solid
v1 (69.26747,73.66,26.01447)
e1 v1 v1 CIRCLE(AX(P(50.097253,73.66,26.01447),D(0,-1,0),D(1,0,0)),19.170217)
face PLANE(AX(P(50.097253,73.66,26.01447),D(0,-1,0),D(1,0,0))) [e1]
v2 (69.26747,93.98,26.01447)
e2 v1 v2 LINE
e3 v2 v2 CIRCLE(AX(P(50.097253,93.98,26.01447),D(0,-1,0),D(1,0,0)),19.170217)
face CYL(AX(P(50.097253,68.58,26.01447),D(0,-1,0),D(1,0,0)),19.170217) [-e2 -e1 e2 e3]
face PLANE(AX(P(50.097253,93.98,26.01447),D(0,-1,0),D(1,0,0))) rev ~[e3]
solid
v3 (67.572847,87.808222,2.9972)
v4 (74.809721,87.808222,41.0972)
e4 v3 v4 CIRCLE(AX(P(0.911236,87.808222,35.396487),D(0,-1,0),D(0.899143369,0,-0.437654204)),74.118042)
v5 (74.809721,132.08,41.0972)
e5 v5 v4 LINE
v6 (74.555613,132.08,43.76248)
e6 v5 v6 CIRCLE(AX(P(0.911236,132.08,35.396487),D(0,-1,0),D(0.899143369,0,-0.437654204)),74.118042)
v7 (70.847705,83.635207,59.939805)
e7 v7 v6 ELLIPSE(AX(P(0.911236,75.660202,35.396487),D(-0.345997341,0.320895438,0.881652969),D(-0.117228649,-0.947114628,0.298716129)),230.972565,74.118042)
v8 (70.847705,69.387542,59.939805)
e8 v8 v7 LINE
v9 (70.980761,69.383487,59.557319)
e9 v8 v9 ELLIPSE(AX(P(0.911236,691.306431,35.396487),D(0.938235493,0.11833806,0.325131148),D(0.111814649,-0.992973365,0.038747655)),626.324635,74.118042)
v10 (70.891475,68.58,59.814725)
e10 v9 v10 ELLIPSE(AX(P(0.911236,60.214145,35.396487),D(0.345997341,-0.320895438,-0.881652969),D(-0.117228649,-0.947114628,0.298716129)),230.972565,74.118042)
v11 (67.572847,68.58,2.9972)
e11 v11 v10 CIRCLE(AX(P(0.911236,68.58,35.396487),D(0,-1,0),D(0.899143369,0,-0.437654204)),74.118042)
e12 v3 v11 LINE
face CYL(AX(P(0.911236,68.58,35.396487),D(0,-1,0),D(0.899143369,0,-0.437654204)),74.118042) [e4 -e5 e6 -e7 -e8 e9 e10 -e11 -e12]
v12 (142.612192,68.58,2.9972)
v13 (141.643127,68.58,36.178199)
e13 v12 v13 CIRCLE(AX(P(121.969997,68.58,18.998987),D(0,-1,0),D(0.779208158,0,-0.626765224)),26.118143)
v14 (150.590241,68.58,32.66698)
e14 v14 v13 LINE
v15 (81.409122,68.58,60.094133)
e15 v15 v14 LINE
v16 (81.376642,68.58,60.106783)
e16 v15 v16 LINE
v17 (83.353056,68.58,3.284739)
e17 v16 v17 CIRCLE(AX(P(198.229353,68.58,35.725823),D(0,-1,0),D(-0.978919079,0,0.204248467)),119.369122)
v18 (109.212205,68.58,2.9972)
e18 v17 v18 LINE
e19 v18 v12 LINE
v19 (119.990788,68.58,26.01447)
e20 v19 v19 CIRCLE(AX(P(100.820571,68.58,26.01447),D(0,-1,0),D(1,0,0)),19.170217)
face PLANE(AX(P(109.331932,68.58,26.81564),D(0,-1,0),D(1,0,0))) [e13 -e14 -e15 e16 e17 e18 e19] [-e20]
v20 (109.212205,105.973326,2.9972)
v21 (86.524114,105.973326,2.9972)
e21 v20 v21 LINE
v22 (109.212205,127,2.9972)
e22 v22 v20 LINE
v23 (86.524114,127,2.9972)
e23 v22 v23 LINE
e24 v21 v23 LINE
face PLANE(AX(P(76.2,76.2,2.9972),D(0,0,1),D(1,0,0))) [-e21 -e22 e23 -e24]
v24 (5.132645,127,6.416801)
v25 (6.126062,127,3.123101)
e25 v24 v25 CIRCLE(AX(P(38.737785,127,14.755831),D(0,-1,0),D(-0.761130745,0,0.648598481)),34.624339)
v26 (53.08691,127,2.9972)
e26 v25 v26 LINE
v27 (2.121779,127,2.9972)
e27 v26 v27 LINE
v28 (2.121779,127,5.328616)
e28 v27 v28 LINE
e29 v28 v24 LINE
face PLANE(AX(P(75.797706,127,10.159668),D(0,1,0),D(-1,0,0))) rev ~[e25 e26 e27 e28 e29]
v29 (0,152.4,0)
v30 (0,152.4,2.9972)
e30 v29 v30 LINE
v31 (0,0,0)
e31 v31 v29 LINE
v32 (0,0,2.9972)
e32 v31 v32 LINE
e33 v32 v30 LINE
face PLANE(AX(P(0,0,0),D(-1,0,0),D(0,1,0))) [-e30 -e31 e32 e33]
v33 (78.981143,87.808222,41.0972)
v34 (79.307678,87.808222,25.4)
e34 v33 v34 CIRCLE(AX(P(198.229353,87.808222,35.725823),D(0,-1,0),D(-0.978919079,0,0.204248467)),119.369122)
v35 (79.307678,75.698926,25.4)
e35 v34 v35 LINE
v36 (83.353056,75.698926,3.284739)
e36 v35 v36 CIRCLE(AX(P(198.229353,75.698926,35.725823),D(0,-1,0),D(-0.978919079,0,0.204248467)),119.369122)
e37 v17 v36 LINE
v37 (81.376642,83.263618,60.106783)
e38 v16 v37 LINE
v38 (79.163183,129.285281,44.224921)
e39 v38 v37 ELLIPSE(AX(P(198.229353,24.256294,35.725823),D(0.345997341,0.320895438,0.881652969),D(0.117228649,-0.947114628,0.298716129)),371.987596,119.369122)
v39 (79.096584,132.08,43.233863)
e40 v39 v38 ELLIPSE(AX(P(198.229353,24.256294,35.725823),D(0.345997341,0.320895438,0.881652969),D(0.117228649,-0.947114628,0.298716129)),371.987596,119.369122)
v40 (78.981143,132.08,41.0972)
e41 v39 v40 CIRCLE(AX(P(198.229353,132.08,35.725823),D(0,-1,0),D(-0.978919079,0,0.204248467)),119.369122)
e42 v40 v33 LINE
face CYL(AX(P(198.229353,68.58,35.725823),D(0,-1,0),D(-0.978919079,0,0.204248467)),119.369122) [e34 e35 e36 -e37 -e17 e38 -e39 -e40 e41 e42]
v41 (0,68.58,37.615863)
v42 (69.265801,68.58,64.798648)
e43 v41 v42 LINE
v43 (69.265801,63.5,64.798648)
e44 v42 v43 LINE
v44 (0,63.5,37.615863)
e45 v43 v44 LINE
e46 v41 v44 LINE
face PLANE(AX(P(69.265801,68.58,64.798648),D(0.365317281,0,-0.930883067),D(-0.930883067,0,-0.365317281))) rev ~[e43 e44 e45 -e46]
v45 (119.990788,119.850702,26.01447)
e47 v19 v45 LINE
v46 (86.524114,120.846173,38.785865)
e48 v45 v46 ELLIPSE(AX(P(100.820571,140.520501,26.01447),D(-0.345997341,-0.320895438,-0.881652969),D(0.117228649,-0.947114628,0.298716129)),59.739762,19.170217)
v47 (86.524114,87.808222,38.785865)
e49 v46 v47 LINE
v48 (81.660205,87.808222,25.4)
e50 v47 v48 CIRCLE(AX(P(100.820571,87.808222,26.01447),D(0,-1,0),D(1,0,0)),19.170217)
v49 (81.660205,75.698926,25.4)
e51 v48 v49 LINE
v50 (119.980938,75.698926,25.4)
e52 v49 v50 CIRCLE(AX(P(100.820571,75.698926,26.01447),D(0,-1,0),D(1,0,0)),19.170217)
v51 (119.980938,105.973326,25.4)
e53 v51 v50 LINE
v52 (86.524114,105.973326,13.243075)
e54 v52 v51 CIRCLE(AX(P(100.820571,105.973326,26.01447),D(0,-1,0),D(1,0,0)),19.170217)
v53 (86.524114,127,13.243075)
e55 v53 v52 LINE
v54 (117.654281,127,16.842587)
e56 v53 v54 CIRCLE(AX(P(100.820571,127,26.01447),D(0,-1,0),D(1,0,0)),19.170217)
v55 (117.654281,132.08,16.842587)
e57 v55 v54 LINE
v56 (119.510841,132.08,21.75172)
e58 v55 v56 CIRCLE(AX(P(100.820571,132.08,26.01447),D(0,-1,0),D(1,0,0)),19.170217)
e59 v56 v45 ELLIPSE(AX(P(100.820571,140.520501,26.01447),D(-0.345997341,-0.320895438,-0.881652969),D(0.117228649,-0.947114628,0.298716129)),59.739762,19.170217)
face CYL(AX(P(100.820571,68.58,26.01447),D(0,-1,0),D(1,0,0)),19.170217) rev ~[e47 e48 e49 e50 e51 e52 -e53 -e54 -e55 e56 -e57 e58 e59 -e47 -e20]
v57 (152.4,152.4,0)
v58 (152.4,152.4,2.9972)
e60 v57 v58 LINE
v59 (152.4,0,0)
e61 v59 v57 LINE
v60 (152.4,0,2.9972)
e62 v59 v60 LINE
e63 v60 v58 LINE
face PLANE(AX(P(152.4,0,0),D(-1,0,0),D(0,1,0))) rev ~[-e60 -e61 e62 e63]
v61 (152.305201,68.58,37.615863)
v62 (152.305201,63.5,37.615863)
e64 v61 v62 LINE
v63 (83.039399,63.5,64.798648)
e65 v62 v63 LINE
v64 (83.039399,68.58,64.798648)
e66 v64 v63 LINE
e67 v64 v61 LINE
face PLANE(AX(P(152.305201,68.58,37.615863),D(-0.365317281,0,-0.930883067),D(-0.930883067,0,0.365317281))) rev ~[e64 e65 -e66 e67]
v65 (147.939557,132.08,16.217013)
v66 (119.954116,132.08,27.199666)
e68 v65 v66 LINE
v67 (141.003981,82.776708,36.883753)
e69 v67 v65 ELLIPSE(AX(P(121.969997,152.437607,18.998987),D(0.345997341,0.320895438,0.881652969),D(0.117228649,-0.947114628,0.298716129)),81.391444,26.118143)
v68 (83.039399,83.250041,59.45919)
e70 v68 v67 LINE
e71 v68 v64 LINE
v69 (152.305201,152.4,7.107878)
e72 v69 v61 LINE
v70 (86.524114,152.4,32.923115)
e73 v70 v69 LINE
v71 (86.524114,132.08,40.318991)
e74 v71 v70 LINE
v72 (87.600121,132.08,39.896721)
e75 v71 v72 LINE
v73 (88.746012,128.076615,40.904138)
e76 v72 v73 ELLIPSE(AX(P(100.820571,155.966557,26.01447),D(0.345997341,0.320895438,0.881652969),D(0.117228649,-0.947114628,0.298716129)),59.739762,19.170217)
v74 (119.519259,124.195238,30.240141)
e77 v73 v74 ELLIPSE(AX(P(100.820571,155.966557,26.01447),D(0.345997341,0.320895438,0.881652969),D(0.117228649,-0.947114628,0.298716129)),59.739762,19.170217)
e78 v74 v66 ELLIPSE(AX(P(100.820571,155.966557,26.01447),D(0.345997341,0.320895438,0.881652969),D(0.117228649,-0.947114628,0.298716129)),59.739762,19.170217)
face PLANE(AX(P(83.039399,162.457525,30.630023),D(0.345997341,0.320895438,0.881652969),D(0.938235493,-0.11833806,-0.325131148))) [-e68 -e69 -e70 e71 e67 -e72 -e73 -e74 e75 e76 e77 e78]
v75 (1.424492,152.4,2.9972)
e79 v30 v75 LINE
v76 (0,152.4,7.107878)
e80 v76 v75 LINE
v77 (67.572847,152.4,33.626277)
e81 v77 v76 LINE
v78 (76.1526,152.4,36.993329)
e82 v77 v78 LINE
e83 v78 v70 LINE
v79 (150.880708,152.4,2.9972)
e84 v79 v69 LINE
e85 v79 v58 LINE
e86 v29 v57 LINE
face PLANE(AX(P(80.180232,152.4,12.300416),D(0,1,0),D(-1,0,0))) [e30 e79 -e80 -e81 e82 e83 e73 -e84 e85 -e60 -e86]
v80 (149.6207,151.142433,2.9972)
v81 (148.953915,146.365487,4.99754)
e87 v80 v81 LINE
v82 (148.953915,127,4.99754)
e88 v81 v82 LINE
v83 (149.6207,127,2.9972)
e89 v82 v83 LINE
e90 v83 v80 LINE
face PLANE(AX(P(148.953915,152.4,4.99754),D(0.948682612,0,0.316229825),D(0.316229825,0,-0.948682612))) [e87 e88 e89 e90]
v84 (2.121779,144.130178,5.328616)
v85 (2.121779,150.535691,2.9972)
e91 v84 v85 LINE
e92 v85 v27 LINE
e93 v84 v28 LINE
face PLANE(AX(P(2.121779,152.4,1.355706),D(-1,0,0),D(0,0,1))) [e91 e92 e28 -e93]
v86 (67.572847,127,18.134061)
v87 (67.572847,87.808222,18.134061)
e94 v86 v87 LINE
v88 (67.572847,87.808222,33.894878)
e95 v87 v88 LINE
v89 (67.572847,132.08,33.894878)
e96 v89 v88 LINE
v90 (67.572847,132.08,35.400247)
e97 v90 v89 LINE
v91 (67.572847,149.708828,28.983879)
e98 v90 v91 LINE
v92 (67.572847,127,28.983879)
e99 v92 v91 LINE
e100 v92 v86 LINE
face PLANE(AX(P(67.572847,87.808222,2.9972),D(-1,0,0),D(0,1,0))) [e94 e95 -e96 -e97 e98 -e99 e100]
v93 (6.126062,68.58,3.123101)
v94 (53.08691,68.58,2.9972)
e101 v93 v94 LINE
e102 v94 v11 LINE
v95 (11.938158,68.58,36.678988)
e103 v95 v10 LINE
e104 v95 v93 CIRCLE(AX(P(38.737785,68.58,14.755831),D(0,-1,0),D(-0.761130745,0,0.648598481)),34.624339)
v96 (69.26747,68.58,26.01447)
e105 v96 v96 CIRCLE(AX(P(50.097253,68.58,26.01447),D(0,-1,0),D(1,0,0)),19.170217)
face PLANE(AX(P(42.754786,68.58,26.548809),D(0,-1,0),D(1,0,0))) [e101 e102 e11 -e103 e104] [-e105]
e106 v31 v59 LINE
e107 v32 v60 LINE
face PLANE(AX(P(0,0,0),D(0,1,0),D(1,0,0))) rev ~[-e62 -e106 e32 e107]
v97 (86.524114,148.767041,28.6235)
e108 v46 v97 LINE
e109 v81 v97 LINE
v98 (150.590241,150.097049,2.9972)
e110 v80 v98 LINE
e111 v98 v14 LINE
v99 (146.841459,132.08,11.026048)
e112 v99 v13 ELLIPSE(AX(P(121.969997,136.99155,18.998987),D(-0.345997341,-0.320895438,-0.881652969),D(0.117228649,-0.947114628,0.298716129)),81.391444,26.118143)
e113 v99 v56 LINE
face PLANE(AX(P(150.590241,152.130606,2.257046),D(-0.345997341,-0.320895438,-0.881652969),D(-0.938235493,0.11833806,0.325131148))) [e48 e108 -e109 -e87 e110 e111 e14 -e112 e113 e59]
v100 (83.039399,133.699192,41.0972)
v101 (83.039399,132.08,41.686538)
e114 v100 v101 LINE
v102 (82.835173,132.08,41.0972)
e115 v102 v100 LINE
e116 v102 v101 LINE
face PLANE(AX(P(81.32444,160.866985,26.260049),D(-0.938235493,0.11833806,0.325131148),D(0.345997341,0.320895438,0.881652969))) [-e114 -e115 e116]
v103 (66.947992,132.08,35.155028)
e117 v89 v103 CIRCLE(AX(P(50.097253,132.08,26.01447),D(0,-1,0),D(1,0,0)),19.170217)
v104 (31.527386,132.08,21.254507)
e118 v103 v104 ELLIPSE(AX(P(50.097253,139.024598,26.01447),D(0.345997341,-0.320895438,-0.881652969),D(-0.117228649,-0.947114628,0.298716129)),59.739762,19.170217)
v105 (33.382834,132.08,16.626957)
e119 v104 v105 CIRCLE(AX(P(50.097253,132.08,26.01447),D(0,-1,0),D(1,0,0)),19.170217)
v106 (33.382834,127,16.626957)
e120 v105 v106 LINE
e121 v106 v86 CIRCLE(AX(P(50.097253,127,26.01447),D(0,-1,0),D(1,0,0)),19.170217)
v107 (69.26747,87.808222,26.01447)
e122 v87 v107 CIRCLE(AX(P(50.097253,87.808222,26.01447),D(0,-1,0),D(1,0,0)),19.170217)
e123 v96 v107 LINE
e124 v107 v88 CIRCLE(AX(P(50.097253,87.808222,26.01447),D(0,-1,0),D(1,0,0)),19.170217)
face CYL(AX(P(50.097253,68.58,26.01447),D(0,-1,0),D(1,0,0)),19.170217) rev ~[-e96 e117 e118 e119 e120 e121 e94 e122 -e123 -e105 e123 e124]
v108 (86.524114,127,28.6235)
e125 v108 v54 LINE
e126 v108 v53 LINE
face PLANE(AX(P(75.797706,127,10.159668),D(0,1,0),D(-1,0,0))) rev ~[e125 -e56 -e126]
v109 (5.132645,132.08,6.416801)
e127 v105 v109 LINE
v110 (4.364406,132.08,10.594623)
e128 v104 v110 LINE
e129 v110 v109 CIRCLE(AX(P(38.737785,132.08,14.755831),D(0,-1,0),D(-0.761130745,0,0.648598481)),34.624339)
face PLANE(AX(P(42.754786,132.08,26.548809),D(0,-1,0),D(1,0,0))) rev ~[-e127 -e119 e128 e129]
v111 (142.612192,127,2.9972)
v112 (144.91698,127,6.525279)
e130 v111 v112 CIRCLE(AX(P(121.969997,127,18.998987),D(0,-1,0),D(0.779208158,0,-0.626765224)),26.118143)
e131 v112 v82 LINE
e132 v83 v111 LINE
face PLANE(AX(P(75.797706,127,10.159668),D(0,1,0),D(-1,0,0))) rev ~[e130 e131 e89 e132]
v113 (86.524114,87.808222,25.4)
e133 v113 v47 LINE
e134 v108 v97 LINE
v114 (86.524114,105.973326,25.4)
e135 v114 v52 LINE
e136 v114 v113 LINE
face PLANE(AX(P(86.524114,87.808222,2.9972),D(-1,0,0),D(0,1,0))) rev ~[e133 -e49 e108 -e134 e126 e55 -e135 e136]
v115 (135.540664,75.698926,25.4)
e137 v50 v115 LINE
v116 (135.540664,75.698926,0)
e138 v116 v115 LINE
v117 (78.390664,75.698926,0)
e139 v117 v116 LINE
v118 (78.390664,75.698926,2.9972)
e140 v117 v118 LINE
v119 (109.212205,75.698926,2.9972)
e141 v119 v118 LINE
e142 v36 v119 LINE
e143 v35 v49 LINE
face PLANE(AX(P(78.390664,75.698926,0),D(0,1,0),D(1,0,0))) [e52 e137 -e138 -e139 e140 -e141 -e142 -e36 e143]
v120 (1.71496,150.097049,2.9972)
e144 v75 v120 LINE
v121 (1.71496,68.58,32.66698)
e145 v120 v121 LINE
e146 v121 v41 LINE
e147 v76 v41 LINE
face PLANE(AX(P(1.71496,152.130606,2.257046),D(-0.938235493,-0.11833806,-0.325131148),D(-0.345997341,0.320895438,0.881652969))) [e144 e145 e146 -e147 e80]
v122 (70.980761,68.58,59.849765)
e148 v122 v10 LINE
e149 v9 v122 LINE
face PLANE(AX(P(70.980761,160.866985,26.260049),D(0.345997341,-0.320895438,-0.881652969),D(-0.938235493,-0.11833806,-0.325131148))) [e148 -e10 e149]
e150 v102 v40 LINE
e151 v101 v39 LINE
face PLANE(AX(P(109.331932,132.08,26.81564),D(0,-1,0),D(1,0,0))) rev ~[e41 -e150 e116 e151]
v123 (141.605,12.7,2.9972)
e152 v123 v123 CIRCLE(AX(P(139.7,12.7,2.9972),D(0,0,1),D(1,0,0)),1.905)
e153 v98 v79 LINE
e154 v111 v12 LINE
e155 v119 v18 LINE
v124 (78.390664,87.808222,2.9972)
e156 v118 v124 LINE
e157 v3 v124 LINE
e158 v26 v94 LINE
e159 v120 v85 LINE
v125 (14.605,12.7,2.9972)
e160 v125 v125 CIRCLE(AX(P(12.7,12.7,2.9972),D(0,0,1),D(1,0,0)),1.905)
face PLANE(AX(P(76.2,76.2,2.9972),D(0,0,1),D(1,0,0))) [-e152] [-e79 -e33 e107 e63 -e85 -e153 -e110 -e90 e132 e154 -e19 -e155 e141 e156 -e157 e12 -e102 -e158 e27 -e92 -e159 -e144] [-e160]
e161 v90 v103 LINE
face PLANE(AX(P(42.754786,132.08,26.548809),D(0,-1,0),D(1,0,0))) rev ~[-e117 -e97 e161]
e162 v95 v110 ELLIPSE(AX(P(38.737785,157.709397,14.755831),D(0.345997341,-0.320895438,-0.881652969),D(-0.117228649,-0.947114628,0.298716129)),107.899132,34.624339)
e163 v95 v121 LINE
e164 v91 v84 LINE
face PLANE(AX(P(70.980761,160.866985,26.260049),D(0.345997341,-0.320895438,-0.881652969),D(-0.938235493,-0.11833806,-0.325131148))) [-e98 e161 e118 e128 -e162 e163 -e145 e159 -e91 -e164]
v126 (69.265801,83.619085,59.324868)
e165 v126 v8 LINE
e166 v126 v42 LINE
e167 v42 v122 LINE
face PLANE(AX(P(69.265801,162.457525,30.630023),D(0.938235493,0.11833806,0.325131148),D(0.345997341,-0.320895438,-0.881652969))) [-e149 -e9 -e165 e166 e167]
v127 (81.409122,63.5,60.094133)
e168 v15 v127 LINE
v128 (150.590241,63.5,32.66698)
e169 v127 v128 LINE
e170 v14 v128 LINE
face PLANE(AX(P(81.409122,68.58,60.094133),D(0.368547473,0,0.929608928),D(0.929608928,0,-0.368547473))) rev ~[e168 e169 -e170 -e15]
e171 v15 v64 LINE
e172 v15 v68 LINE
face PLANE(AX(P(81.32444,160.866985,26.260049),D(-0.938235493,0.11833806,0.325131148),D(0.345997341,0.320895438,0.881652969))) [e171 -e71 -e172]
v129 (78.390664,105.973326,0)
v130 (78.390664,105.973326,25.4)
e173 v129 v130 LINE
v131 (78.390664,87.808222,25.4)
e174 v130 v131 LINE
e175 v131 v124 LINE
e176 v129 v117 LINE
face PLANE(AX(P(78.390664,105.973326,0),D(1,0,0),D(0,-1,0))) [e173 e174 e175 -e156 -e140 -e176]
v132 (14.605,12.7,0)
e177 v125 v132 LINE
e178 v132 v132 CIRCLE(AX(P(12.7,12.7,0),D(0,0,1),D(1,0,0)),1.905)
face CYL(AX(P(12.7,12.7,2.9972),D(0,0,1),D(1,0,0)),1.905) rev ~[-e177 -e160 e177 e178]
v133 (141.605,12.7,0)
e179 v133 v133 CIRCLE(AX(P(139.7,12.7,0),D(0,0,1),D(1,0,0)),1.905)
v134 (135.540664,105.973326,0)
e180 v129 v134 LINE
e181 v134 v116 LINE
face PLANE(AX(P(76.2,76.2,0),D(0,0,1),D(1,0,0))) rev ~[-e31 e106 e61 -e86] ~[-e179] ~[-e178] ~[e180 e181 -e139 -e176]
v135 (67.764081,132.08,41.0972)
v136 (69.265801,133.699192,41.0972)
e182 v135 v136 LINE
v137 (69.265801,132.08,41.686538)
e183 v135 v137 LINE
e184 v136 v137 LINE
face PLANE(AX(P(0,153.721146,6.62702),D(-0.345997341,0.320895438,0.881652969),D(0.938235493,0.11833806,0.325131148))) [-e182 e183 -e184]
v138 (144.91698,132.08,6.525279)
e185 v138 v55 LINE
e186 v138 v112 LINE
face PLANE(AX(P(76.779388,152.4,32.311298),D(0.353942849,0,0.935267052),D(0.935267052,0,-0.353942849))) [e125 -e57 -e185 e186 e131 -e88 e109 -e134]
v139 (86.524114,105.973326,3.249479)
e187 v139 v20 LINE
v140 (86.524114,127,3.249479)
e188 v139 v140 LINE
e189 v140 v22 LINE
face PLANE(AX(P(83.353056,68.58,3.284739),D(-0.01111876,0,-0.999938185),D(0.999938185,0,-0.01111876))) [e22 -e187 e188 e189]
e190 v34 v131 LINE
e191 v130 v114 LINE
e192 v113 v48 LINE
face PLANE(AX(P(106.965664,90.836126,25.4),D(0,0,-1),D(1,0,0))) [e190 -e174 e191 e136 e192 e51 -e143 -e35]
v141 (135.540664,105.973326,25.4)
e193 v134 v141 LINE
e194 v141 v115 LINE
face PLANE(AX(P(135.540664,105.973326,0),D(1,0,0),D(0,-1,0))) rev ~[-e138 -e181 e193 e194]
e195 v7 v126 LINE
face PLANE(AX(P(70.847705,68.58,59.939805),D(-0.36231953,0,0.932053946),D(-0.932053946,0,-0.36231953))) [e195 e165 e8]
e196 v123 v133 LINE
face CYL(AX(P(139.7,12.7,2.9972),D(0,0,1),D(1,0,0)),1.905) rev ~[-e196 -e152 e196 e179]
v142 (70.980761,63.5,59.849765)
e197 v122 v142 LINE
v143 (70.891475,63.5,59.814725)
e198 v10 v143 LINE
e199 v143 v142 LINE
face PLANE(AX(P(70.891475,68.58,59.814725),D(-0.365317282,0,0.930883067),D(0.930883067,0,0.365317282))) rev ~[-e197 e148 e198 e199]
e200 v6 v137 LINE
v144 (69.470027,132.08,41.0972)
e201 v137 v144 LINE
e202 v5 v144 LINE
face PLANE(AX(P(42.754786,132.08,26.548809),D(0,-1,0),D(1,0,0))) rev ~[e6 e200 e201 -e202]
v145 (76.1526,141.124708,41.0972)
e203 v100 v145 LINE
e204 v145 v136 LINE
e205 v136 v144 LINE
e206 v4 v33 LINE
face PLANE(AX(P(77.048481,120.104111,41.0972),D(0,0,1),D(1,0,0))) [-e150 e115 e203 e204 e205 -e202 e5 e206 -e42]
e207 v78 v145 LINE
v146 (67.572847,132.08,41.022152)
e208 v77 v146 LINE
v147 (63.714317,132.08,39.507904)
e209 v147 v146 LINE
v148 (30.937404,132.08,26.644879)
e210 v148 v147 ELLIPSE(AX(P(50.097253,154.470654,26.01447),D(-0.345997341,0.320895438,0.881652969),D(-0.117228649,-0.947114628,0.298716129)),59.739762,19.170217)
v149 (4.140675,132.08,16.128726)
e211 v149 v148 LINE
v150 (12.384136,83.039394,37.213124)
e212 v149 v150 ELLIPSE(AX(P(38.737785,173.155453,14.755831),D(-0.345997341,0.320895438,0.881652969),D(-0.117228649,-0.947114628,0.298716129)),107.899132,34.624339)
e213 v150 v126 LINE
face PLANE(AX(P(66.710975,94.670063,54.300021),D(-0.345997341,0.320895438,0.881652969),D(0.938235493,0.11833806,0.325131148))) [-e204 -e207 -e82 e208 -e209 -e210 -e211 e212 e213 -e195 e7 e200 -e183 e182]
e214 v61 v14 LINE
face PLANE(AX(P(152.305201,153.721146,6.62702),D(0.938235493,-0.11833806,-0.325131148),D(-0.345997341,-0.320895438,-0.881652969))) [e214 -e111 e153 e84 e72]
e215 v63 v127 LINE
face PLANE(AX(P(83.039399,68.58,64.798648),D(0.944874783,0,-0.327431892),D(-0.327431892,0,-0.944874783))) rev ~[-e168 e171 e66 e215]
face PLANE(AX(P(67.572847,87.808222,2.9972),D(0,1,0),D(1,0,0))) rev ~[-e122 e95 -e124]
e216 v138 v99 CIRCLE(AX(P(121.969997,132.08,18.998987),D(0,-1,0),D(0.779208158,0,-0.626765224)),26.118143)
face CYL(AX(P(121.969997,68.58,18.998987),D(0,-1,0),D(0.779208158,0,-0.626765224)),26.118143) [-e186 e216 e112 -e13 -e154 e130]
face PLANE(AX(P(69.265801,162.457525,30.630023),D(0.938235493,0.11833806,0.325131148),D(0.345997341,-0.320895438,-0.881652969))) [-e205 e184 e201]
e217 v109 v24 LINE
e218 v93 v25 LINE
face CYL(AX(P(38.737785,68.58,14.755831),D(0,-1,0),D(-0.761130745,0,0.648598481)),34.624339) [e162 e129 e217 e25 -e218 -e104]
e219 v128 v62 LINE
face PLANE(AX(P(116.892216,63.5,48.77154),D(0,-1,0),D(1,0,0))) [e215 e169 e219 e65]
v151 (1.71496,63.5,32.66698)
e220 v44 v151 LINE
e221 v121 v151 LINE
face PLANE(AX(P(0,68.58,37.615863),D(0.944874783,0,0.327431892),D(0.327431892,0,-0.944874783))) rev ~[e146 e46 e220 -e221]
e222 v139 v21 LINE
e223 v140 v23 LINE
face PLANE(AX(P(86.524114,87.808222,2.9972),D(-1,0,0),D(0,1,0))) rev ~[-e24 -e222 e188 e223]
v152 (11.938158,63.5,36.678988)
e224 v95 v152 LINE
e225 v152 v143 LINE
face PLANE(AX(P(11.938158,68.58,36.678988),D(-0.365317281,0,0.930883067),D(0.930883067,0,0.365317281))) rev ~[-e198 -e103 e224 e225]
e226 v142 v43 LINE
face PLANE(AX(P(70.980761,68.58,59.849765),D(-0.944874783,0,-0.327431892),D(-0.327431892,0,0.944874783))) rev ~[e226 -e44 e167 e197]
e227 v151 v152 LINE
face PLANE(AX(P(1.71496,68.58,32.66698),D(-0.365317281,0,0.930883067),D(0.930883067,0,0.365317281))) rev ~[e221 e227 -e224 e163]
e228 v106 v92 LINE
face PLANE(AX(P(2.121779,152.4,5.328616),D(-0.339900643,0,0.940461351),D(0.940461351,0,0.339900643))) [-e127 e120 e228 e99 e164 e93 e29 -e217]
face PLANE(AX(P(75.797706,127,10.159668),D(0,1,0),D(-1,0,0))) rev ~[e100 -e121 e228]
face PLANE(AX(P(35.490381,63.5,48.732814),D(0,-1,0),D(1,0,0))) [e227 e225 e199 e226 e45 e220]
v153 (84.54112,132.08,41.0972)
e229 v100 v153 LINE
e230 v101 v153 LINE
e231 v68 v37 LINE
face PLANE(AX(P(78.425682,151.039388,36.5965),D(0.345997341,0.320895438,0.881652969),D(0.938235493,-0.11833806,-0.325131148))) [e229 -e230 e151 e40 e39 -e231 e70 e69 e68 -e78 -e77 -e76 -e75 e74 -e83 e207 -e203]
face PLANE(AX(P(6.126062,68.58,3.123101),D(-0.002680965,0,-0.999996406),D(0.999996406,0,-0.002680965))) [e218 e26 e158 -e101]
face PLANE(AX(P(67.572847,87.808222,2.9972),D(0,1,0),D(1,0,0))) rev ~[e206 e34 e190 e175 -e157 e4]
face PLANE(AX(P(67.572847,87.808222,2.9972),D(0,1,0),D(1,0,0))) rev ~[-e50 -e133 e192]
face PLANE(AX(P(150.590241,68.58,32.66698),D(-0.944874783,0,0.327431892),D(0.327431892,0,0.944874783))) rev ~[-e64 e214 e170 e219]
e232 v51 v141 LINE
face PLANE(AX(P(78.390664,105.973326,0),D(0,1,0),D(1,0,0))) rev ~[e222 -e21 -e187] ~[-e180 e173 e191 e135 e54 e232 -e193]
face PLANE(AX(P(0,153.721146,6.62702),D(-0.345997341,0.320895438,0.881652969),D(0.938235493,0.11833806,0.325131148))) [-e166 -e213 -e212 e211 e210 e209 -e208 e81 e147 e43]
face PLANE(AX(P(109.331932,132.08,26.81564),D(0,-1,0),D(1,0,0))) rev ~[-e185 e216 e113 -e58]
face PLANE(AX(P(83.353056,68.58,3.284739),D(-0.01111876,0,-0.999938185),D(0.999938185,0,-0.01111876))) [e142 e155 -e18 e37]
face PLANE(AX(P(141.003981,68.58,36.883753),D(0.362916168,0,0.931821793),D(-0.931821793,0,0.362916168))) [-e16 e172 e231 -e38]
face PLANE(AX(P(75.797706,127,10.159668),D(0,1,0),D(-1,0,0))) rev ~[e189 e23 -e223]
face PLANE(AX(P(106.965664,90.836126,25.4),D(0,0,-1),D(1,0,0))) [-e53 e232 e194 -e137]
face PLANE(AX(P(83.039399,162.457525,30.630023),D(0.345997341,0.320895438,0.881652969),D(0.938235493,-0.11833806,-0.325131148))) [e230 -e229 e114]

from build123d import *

# Parameters (mm, degrees)
F0_W      = 152.4
F0_H      = 152.4
F1_DEPTH  = 2.9972
F4_DEPTH  = 101.6
F7_W      = 174.6290246956
F7_H      = 71.9060692936
F8_DEPTH  = 25.4
F9_W      = 190.2633160353
F9_H      = 69.5802671835
F10_DEPTH = 25.4
F11_R     = 19.1702169235
F12_DEPTH = 63.5
F16_W     = 18.951266981
F16_H     = 64.5917784214
F17_DEPTH = 38.1
F14_W     = 142.2051836274
F14_H     = 140.7781180757
F18_DEPTH = 25.4
F13_W     = 73.825603469
F13_H     = 98.4964409136
F19_DEPTH = 25.4
F15_W     = 89.3880832009
F15_H     = 85.1461850107
F20_DEPTH = 25.4
F21_W     = 107.8529264778
F21_H     = 46.1024940014
F22_DEPTH = 25.4
F23_DEPTH = 25.4
F24_DEPTH = 5.08
F26_DEPTH = 5.08
F28_DEPTH = 5.08
F30_DEPTH = 25.4
F31_W     = 57.15
F31_H     = 30.274399312
F32_DEPTH = 25.4
F33_R     = 1.905
F34_DEPTH = 25.4


with BuildPart() as f1:
    # F0 (on Top) → F1 (new body)
    with BuildSketch(Plane.XY):
        with Locations((76.2, 76.2)):
            Rectangle(F0_W, F0_H)
    extrude(amount=F1_DEPTH)

    # F3 (on face) → F4 (join)
    with BuildSketch(Plane(origin=(0, 133.6093050538, -48.6298100606), x_dir=(-1, 0, 0), z_dir=(0, 0.9396926208, -0.3420201433))):
        Polygon((-70.9807611624, 79.6961235199), (-1.7149597029, 54.1526610348), (0, 58.8030900187), (-69.2658014596, 84.3465525037), align=None)
        Polygon((-152.305200696, 58.8030900187), (-150.5902409931, 54.1526610348), (-81.3244395336, 79.6961235199), (-83.0393992364, 84.3465525037), align=None)
    extrude(amount=-F4_DEPTH)

    # F7 (on offset) → F8 (cut)
    with BuildSketch(Plane(origin=(0, 152.4, 0), x_dir=(-1, 0, 0), z_dir=(0, 1, 0))):
        with Locations((-80.1802317146, 12.3004158959)):
            Rectangle(F7_W, F7_H)
    extrude(amount=F8_DEPTH, mode=Mode.SUBTRACT)

    # F9 (on offset) → F10 (cut)
    with BuildSketch(Plane.XZ.offset(-68.58)):
        with Locations((67.1265348792, 43.6987527646)):
            Rectangle(F9_W, F9_H)
    extrude(amount=F10_DEPTH, mode=Mode.SUBTRACT)

    # F11 (on offset) → F12 (join)
    with BuildSketch(Plane.XZ.offset(-68.58)):
        with BuildLine():
            Line((6.1260624789, 3.123100847), (67.5539821386, 2.9584141448))
            ThreePointArc((67.5539821386, 2.9584141448), (74.9057644418, 31.1193454864), (70.8477050066, 59.9398054183))
            Line((70.8477050066, 59.9398054183), (12.3841362074, 37.2131243348))
            ThreePointArc((12.3841362074, 37.2131243348), (4.6825185029, 21.0075238057), (6.1260624789, 3.123100847))
        make_face()
        with Locations((50.0972531736, 26.014469564)):
            Circle(F11_R, mode=Mode.SUBTRACT)
        with BuildLine():
            Line((141.0039812326, 36.8837527931), (81.3766415837, 60.1067829749))
            ThreePointArc((81.3766415837, 60.1067829749), (78.9323729869, 31.5763709769), (83.3530564642, 3.2847394342))
            Line((83.3530564642, 3.2847394342), (142.3214673996, 2.6290433016))
            ThreePointArc((142.3214673996, 2.6290433016), (148.0688436071, 20.0027867534), (141.0039812326, 36.8837527931))
        make_face()
        with Locations((100.8205711842, 26.014469564)):
            Circle(F11_R, mode=Mode.SUBTRACT)
    extrude(amount=-F12_DEPTH)

    # F16 (on face) → F17 (join)
    with BuildSketch(Plane.XY.offset(2.9972)):
        with Locations((77.0484805222, 120.1041107893)):
            Rectangle(F16_W, F16_H)
    extrude(amount=F17_DEPTH)

    # F14 (on face) → F18 (cut)
    with BuildSketch(Plane(origin=(-19.0890698574, 17.7041690946, 48.6418048176), x_dir=(0.9382354929, 0.1183380601, 0.325131148), z_dir=(-0.3459973408, 0.3208954378, 0.8816529692))):
        with Locations((91.4483045925, 70.3890590378)):
            Rectangle(F14_W, F14_H)
    extrude(amount=F18_DEPTH, mode=Mode.SUBTRACT)

    # F13 (on face) → F19 (cut)
    with BuildSketch(Plane(origin=(37.3221590008, 34.6144583712, 95.1024427615), x_dir=(0.9382354929, -0.1183380601, -0.325131148), z_dir=(0.3459973408, 0.3208954378, 0.8816529692))):
        with Locations((85.6396305334, 91.5298976189)):
            Rectangle(F13_W, F13_H)
    extrude(amount=F19_DEPTH, mode=Mode.SUBTRACT)

    # F15 (on face) → F20 (cut)
    with BuildSketch(Plane(origin=(37.3221590008, 34.6144583712, 95.1024427615), x_dir=(0.9382354929, -0.1183380601, -0.325131148), z_dir=(0.3459973408, 0.3208954378, 0.8816529692))):
        with Locations((47.4748036359, 77.4410758168)):
            Rectangle(F15_W, F15_H)
    extrude(amount=F20_DEPTH, mode=Mode.SUBTRACT)

    # F21 (on face) → F22 (cut)
    with BuildSketch(Plane(origin=(37.3221590008, 34.6144583712, 95.1024427615), x_dir=(0.9382354929, -0.1183380601, -0.325131148), z_dir=(0.3459973408, 0.3208954378, 0.8816529692))):
        with Locations((43.8093887642, 129.4138580561)):
            Rectangle(F21_W, F21_H)
    extrude(amount=F22_DEPTH, mode=Mode.SUBTRACT)

    # F25 (on face) → F26 (join)
    with BuildSketch(Plane.XZ.offset(-68.58)):
        Polygon((0, 37.6158626848), (1.7149597029, 32.6669795277), (11.9381580946, 36.6789883131), (70.8914748875, 59.8147248838), (70.9807611624, 59.8497645364), (69.2658014596, 64.7986476935), align=None)
    extrude(amount=F26_DEPTH)

    # F27 (on face) → F28 (join)
    with BuildSketch(Plane.XZ.offset(-68.58)):
        Polygon((83.0393992364, 64.7986476935), (81.4091216737, 60.0941329705), (150.5902409931, 32.6669795277), (152.305200696, 37.6158626848), align=None)
    extrude(amount=F28_DEPTH)

    # F29 (on face) → F30 (join)
    with BuildSketch(Plane(origin=(0, 152.4, 0), x_dir=(-1, 0, 0), z_dir=(0, 1, 0))):
        Polygon((-148.9539146423, 4.9975402653), (-150.1126885414, 1.5212437138), (-2.1217786707, 1.3557064813), (-2.1217786707, 5.3286161274), (-76.7793878913, 32.3112979531), align=None)
    extrude(amount=-F30_DEPTH)

    # F31 (on face) → F32 (cut)
    with BuildSketch(Plane(origin=(0, 0, 0), x_dir=(1, 0, 0), z_dir=(0, 0, -1))):
        with Locations((106.965664196, -90.8361260137)):
            Rectangle(F31_W, F31_H)
    extrude(amount=-F32_DEPTH, mode=Mode.SUBTRACT)

    # F33 (on face) → F34 (cut)
    with BuildSketch(Plane.XY.offset(2.9972)):
        with Locations((12.7, 12.7)):
            Circle(F33_R)
        with Locations((139.7, 12.7)):
            Circle(F33_R)
    extrude(amount=-F34_DEPTH, mode=Mode.SUBTRACT)


with BuildPart() as f23:
    # F11 (on offset) → F23 (new body)
    with BuildSketch(Plane.XZ.offset(-68.58)):
        with Locations((50.0972531736, 26.014469564)):
            Circle(F11_R)
    extrude(amount=-F23_DEPTH)

    # F11 (on offset) → F24 (cut)
    with BuildSketch(Plane.XZ.offset(-68.58)):
        with Locations((50.0972531736, 26.014469564)):
            Circle(F11_R)
    extrude(amount=-F24_DEPTH, mode=Mode.SUBTRACT)


solid = Compound([f1.part, f23.part])
